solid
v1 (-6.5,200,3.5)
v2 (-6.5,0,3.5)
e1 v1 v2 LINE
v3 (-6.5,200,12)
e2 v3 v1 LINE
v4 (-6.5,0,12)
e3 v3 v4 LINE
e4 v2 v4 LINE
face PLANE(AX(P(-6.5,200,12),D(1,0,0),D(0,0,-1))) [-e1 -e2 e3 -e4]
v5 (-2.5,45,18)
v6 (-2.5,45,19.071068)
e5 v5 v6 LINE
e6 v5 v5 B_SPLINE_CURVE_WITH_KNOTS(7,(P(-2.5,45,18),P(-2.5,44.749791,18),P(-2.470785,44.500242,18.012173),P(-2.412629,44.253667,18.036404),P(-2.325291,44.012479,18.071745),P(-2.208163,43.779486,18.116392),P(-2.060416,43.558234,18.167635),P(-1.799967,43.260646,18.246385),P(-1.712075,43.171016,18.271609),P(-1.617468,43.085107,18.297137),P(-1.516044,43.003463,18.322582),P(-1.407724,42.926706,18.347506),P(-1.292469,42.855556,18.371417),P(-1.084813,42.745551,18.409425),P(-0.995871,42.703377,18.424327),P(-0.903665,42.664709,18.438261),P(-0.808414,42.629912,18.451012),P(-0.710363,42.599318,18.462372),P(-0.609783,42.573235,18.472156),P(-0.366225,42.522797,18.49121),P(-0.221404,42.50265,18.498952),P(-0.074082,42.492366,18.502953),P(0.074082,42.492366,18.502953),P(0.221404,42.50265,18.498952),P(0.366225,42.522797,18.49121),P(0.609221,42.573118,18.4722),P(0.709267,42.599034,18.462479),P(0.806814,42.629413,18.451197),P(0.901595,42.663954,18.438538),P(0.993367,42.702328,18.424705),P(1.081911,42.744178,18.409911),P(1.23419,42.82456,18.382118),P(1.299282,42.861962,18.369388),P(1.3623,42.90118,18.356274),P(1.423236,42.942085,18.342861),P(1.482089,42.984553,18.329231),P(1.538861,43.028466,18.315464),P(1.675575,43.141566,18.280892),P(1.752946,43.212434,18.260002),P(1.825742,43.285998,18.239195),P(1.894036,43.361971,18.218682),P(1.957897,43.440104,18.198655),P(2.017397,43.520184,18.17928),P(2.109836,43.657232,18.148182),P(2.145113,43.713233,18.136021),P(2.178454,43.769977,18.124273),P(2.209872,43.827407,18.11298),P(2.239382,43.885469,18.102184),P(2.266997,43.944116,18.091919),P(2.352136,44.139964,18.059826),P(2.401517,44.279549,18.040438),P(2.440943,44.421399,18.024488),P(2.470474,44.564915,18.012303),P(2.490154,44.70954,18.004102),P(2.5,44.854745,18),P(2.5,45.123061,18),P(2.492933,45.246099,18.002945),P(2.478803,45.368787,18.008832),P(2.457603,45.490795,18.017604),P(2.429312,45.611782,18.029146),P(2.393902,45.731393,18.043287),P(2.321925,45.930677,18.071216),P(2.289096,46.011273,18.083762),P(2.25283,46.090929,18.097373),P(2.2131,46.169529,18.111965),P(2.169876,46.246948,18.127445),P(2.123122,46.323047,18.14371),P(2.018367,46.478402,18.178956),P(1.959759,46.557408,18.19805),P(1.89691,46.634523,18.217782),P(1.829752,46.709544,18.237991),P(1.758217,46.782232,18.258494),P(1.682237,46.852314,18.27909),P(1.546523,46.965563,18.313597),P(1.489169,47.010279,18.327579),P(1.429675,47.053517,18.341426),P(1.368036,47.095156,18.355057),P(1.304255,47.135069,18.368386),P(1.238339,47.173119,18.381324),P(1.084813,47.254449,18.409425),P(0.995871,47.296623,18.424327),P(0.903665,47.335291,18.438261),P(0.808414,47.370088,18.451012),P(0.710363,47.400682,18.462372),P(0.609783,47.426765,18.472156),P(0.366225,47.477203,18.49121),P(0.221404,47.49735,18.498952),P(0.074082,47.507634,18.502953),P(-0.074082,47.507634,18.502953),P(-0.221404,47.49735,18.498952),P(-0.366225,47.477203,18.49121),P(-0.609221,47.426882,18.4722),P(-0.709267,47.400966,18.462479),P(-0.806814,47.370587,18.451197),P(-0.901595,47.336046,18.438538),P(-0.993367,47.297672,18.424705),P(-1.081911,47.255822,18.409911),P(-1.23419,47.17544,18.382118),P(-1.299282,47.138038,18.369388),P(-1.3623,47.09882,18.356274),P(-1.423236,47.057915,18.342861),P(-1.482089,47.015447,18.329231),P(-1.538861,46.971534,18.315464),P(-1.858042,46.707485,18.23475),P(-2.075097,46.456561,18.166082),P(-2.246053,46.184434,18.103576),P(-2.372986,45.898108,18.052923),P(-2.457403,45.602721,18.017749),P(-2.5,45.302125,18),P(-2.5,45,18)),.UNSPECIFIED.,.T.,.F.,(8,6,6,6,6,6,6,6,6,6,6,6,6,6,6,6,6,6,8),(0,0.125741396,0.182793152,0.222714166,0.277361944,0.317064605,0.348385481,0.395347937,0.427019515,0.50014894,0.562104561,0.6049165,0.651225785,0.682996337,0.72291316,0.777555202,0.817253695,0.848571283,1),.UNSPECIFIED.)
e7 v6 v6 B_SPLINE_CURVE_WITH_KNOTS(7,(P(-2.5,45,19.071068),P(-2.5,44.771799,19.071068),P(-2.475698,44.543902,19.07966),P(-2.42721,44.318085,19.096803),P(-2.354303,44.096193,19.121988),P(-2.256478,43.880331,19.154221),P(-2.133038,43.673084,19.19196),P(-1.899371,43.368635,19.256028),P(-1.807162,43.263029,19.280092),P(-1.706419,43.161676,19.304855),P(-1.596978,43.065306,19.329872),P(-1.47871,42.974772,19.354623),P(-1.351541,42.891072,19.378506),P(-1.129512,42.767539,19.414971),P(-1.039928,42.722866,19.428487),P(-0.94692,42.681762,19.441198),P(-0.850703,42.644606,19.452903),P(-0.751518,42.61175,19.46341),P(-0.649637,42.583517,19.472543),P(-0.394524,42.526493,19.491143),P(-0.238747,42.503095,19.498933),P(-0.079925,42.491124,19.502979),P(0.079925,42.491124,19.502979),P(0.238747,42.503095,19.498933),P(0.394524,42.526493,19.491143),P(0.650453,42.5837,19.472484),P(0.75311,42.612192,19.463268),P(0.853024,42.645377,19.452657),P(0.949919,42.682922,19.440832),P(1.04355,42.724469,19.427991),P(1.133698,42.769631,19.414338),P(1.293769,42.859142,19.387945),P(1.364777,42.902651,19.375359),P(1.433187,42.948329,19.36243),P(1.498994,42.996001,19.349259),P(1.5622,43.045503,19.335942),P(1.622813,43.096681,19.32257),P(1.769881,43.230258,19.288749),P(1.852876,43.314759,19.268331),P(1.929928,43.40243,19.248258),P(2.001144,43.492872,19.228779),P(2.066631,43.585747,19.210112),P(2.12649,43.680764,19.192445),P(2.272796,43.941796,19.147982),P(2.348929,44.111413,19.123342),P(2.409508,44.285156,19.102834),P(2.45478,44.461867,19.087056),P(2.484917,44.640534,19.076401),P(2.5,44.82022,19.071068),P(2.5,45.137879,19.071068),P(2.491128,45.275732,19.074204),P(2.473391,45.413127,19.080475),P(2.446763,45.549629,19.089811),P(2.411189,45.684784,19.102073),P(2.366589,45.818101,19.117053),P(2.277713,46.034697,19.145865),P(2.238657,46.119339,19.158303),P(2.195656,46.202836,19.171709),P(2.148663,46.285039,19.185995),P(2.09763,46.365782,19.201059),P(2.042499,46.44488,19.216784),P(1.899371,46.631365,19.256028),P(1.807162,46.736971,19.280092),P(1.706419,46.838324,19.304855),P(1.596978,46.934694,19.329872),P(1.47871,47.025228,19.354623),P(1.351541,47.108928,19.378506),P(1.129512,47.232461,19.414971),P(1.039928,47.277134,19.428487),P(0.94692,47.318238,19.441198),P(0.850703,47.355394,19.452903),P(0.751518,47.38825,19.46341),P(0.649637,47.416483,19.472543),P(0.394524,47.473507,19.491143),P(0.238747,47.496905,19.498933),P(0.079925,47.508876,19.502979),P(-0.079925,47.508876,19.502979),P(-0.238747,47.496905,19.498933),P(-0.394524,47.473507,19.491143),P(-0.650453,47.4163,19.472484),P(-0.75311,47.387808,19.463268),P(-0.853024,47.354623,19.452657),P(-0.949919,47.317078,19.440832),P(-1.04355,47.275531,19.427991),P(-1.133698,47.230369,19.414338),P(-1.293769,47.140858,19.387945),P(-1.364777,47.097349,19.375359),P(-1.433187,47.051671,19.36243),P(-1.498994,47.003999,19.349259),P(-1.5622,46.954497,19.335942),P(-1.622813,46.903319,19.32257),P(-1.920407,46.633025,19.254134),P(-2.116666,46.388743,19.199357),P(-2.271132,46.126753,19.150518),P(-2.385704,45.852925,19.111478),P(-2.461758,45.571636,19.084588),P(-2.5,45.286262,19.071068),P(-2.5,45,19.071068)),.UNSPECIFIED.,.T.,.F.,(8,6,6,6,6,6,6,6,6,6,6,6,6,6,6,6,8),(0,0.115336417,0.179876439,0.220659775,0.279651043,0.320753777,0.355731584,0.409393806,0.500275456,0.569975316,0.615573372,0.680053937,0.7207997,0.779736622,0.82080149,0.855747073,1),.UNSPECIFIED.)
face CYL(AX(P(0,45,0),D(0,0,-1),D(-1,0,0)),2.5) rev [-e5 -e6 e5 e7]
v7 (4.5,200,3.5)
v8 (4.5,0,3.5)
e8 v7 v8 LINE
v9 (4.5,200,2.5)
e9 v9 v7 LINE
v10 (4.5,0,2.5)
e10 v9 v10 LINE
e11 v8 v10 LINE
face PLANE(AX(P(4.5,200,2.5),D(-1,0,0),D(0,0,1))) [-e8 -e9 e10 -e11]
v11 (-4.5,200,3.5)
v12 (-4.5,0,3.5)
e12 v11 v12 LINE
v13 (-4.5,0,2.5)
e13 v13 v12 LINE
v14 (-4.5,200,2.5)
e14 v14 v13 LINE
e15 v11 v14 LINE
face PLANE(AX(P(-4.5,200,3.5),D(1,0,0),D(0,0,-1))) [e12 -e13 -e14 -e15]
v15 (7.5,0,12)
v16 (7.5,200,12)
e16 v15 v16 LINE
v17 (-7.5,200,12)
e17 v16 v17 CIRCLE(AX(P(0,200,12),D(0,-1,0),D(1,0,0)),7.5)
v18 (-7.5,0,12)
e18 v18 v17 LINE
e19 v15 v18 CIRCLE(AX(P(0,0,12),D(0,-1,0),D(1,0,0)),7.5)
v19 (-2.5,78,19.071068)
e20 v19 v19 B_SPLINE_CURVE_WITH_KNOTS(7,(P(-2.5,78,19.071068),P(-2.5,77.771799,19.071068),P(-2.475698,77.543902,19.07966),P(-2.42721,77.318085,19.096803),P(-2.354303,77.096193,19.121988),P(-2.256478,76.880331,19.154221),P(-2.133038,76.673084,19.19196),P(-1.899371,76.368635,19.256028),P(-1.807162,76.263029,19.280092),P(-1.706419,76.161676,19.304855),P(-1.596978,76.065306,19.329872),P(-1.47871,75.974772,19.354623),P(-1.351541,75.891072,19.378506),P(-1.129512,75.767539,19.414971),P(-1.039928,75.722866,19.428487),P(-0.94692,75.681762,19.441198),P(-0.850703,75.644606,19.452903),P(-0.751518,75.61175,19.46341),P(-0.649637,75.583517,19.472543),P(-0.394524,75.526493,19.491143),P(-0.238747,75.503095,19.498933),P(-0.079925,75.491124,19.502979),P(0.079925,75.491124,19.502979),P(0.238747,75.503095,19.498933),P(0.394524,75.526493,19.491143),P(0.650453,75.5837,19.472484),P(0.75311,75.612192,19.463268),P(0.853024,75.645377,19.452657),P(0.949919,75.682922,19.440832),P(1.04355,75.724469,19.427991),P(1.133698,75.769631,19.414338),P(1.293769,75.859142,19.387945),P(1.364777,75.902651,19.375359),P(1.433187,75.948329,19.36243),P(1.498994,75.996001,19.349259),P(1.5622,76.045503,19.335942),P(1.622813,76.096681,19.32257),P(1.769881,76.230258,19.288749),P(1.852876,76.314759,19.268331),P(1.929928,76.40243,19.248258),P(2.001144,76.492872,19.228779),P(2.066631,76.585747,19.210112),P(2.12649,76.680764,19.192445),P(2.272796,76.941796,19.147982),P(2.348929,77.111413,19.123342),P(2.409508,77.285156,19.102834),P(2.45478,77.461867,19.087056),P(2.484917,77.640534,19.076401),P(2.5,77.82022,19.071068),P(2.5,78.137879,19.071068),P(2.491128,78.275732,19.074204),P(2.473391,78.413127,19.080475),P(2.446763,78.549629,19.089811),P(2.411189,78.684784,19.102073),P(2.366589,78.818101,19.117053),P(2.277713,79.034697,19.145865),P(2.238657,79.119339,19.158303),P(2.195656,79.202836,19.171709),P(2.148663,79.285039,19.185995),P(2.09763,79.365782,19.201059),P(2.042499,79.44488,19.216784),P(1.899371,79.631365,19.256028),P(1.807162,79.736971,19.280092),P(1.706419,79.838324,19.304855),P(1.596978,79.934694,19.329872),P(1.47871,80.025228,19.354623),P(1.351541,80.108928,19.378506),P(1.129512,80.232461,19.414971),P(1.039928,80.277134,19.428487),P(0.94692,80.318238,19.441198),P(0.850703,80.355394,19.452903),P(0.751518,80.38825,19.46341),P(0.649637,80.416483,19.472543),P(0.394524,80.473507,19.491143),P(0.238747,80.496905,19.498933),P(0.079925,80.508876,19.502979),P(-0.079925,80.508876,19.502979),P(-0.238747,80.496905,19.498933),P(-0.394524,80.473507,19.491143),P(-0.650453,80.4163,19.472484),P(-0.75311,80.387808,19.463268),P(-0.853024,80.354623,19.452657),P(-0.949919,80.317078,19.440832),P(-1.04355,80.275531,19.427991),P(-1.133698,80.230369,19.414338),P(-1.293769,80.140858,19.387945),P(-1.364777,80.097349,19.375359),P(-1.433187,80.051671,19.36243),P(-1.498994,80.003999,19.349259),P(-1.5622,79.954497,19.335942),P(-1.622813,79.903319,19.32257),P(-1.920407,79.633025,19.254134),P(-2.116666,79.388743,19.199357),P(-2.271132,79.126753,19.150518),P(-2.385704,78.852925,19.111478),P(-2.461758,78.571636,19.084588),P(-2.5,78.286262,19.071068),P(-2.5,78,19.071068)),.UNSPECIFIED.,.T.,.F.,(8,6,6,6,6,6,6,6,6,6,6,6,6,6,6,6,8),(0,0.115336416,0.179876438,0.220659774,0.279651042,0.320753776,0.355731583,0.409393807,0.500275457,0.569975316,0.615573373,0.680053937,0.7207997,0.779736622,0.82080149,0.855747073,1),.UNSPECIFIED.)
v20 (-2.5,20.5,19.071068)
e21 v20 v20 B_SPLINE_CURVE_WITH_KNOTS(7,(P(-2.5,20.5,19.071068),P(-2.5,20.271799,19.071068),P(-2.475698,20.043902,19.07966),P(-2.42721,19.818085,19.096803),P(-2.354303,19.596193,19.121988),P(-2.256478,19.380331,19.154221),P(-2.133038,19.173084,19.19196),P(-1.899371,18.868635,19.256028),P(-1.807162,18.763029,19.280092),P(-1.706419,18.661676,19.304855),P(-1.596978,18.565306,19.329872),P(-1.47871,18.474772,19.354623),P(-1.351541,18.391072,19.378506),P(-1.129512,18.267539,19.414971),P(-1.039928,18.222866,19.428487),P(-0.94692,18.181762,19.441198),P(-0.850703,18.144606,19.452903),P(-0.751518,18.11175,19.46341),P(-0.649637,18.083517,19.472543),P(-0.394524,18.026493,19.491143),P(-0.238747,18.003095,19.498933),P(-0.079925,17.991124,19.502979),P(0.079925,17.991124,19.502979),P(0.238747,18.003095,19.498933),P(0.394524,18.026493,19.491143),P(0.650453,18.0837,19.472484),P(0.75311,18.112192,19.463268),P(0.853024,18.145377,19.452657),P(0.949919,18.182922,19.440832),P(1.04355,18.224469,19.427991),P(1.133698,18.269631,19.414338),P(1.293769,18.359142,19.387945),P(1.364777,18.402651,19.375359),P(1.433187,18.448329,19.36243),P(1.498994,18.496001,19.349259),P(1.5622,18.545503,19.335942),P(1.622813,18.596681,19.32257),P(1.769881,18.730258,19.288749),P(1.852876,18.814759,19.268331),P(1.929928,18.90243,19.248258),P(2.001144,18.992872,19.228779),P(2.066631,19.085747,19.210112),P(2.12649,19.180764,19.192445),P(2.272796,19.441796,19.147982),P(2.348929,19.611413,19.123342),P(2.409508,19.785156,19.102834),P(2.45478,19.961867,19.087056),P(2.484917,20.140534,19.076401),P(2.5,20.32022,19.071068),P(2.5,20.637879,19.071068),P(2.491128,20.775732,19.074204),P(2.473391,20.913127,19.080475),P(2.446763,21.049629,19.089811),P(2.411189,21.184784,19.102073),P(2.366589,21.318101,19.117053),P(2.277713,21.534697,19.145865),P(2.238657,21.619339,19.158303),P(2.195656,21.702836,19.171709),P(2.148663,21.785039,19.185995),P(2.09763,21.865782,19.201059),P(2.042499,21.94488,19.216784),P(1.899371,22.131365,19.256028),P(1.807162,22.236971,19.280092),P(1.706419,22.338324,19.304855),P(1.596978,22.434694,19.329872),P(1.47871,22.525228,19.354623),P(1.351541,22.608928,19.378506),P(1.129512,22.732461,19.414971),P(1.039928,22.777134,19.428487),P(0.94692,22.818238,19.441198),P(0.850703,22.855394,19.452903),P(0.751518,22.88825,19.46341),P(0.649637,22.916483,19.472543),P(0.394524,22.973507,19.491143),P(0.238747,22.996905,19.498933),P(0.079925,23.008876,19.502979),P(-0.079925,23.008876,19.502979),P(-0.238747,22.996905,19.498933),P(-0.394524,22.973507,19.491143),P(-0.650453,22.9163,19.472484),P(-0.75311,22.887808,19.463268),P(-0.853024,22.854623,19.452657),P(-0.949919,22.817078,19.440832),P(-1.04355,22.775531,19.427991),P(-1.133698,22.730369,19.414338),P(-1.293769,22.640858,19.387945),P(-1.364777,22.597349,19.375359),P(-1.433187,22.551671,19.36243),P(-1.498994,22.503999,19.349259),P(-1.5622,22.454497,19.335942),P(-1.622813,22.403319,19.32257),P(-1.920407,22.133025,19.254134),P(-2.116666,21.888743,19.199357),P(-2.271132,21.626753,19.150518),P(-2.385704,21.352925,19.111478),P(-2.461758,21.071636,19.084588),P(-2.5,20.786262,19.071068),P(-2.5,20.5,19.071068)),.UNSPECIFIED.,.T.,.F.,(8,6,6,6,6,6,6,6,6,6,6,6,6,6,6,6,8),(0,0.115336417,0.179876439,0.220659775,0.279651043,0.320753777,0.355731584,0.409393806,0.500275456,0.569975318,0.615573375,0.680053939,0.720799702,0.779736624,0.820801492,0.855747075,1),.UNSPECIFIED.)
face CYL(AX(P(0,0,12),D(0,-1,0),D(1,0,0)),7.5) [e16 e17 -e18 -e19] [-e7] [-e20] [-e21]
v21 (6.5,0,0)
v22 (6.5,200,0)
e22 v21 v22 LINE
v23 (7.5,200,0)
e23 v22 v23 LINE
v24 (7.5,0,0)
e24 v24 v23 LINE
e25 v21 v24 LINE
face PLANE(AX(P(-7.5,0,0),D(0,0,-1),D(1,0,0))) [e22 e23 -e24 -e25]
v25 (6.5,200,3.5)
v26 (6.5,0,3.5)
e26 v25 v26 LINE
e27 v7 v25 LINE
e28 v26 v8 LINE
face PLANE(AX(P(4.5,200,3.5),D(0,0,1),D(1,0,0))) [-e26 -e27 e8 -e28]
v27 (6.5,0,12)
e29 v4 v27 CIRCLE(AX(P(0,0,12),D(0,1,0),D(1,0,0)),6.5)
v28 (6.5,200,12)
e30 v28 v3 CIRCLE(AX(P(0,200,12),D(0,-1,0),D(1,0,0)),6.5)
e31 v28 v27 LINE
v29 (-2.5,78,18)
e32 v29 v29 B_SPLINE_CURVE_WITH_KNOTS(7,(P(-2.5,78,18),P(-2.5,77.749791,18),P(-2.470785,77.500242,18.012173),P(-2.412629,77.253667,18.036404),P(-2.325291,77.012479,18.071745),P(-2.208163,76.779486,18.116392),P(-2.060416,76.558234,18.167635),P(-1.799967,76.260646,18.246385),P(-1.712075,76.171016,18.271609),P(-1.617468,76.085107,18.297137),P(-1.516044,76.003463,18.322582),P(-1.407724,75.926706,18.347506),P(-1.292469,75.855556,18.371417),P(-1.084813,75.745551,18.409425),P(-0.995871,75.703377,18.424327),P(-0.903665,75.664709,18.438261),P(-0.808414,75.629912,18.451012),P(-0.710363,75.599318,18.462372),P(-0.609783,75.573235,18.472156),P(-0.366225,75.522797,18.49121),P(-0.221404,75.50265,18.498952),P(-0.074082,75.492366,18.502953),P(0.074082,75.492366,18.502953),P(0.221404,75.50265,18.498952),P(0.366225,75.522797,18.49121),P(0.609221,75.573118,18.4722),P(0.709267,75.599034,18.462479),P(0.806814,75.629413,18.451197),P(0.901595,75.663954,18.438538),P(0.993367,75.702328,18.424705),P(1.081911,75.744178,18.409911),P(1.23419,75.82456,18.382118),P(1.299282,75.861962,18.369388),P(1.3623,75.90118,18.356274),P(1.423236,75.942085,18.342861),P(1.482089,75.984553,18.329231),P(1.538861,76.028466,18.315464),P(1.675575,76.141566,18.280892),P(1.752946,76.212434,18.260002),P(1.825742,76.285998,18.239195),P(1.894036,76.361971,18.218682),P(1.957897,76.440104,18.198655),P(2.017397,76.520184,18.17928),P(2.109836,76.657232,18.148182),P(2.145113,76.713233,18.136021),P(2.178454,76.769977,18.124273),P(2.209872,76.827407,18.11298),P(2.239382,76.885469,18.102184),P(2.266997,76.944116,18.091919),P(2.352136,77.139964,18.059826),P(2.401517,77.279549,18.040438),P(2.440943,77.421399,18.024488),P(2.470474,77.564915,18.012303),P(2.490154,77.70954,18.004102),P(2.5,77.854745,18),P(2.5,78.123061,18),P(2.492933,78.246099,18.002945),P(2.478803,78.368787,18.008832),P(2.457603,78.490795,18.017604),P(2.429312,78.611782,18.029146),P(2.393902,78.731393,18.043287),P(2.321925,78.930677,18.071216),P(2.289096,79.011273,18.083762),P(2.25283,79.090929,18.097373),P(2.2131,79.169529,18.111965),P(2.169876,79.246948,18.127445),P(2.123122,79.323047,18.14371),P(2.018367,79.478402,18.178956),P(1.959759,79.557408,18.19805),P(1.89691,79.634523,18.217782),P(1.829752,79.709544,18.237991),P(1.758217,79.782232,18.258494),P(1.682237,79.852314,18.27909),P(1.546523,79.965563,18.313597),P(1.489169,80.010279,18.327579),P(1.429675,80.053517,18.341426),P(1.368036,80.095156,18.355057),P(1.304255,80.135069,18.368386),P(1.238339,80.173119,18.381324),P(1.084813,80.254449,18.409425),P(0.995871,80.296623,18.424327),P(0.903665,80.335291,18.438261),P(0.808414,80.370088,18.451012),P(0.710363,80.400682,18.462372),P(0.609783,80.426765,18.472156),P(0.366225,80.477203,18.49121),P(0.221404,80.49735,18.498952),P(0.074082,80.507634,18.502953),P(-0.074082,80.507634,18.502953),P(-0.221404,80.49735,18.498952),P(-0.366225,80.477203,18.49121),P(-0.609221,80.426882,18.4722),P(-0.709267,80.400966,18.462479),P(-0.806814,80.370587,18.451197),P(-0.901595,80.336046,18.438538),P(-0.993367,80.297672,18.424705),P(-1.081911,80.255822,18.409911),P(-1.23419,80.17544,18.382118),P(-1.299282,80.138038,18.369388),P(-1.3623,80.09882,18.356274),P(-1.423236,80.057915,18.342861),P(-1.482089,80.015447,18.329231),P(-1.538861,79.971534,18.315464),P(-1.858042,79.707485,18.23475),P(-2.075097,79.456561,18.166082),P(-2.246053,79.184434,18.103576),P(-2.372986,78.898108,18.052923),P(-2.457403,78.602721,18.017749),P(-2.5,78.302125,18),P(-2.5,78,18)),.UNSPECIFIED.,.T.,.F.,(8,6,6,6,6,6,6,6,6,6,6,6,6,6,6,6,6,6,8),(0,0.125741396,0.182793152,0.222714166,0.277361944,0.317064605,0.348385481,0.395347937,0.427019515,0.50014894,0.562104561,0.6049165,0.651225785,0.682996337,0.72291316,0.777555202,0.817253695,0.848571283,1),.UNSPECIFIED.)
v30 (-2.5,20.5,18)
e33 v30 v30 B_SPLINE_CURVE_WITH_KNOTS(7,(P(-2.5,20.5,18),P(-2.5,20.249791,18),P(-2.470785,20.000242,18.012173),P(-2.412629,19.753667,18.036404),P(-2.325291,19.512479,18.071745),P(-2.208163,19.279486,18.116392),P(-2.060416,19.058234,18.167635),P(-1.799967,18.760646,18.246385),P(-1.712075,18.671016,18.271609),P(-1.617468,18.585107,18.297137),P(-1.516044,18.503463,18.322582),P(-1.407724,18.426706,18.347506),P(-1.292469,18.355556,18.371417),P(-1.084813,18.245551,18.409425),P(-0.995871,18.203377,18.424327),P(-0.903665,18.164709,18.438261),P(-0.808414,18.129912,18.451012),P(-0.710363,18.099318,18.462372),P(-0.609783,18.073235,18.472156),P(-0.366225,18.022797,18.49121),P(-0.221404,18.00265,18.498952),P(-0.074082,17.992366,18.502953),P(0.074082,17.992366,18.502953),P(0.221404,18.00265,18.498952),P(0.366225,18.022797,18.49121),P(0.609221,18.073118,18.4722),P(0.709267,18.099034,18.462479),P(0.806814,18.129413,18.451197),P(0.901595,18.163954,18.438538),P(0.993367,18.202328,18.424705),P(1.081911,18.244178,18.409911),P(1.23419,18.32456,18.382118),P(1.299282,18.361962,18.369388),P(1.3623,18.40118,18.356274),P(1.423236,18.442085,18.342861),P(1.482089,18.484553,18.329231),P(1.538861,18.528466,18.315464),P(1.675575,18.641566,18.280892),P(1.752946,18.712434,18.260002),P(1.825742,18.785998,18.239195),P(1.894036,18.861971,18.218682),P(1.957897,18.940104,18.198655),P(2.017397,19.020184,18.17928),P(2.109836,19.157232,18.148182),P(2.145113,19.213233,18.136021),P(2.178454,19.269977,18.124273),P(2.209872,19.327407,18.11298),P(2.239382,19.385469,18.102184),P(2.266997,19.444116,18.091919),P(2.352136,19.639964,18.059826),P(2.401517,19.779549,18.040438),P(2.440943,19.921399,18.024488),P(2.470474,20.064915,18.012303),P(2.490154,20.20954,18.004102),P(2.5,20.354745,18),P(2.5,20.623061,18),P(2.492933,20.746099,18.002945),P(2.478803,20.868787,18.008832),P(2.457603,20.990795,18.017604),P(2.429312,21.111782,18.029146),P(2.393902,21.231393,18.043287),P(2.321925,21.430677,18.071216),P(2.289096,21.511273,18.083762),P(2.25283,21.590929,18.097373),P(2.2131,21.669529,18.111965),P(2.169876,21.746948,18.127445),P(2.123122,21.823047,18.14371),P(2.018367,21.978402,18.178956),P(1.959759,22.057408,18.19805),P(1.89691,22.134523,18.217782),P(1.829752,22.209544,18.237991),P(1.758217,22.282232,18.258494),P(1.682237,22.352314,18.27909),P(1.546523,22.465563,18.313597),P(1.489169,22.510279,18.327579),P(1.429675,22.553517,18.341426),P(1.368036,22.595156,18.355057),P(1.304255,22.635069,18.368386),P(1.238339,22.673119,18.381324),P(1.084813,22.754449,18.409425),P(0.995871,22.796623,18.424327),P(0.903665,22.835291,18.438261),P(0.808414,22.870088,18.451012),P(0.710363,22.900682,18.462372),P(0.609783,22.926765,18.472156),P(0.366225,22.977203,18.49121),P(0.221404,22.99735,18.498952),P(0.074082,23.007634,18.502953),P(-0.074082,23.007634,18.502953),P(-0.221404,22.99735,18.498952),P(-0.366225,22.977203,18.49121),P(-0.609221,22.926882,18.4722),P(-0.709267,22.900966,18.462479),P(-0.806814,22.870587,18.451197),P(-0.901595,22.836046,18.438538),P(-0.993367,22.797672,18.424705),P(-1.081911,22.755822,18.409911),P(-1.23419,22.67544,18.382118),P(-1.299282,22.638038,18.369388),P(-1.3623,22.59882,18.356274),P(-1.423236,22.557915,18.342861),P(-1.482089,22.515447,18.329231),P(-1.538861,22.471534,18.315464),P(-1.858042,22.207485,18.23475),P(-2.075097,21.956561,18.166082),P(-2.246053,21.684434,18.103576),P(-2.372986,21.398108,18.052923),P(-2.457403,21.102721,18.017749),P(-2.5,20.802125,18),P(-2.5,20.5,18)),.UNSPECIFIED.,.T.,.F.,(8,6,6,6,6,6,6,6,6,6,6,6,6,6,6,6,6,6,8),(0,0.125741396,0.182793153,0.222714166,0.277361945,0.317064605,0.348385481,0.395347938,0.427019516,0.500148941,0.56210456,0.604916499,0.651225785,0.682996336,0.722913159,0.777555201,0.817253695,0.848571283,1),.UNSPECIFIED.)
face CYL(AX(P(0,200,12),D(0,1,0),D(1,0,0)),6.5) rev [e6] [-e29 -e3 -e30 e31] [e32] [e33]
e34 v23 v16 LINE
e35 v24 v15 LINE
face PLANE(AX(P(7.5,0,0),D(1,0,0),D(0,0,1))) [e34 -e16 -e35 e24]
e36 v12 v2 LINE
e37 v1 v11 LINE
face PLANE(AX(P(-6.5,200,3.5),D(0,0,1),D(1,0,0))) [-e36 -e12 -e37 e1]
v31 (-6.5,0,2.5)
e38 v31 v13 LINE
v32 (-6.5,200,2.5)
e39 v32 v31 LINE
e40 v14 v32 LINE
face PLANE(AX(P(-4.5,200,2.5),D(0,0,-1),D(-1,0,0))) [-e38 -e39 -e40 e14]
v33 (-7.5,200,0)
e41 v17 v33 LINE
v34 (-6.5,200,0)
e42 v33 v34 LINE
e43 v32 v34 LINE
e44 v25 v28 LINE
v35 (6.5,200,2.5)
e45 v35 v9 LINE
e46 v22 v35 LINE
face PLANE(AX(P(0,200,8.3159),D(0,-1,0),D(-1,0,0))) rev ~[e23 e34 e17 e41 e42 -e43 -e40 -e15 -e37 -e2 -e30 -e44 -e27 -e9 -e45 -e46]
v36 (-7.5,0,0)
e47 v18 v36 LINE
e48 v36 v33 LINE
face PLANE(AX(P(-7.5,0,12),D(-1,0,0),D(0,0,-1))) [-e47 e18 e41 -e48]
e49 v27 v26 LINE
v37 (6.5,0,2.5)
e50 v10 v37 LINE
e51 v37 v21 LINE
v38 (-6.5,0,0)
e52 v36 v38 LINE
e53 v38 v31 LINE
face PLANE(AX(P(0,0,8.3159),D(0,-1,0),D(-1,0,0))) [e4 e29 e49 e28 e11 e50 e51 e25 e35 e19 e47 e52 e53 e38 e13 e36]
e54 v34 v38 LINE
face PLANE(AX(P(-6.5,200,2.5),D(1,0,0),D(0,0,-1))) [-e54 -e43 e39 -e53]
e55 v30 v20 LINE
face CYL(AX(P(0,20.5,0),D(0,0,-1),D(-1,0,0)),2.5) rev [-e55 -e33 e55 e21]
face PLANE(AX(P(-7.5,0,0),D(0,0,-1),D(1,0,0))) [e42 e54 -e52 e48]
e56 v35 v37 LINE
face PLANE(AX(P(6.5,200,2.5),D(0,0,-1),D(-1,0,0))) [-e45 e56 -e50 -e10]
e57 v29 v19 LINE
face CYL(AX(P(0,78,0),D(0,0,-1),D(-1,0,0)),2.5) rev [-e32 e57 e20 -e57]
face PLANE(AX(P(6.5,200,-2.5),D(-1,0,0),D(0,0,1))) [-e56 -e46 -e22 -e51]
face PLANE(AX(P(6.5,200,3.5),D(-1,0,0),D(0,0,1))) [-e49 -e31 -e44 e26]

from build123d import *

# Parameters (mm, degrees)
BOSS_EXTRU_1_DEPTH      = 200
ENL_V_MAT_EXTRU_1_DEPTH = 202.088289067
ESQUISSE6_R             = 2.5
ENL_V_MAT_EXTRU_3_DEPTH = 202.088289067


with BuildPart() as part:
    # Esquisse1 → Boss.-Extru.1 (new body)
    with BuildSketch(Plane(origin=(0, 0, 0), x_dir=(1, 0, 0), z_dir=(0, 1, 0))):
        with BuildLine():
            Line((-7.5, 0), (7.5, 0))
            Line((7.5, 0), (7.5, -12))
            ThreePointArc((7.5, -12), (0, -19.5), (-7.5, -12))
            Line((-7.5, -12), (-7.5, 0))
        make_face()
    extrude(amount=BOSS_EXTRU_1_DEPTH)

    # Esquisse2 → Enlèv. mat.-Extru.1 (cut, through all)
    with BuildSketch(Plane(origin=(0, 200, 0), x_dir=(1, 0, 0), z_dir=(0, 1, 0))):
        with BuildLine():
            Line((-6.5, 2.5), (6.5, 2.5))
            Line((6.5, 2.5), (6.5, -2.5))
            Line((6.5, -2.5), (4.5, -2.5))
            Line((4.5, -2.5), (4.5, -3.5))
            Line((4.5, -3.5), (6.5, -3.5))
            Line((6.5, -3.5), (6.5, -12))
            ThreePointArc((6.5, -12), (0, -18.5), (-6.5, -12))
            Line((-6.5, -12), (-6.5, -3.5))
            Line((-6.5, -3.5), (-4.5, -3.5))
            Line((-4.5, -3.5), (-4.5, -2.5))
            Line((-4.5, -2.5), (-6.5, -2.5))
            Line((-6.5, -2.5), (-6.5, 2.5))
        make_face()
    extrude(amount=-ENL_V_MAT_EXTRU_1_DEPTH, mode=Mode.SUBTRACT)

    # Esquisse6 → Enlèv. mat.-Extru.3 (cut, through all)
    with BuildSketch(Plane.XY):
        with Locations(Location((0, 20.5, 0), (0, 0, 180))):
            Circle(ESQUISSE6_R)
        with Locations(Location((0, 45, 0), (0, 0, 180))):
            Circle(ESQUISSE6_R)
        with Locations(Location((0, 78, 0), (0, 0, 180))):
            Circle(ESQUISSE6_R)
    extrude(amount=ENL_V_MAT_EXTRU_3_DEPTH, mode=Mode.SUBTRACT)


solid = part.part
